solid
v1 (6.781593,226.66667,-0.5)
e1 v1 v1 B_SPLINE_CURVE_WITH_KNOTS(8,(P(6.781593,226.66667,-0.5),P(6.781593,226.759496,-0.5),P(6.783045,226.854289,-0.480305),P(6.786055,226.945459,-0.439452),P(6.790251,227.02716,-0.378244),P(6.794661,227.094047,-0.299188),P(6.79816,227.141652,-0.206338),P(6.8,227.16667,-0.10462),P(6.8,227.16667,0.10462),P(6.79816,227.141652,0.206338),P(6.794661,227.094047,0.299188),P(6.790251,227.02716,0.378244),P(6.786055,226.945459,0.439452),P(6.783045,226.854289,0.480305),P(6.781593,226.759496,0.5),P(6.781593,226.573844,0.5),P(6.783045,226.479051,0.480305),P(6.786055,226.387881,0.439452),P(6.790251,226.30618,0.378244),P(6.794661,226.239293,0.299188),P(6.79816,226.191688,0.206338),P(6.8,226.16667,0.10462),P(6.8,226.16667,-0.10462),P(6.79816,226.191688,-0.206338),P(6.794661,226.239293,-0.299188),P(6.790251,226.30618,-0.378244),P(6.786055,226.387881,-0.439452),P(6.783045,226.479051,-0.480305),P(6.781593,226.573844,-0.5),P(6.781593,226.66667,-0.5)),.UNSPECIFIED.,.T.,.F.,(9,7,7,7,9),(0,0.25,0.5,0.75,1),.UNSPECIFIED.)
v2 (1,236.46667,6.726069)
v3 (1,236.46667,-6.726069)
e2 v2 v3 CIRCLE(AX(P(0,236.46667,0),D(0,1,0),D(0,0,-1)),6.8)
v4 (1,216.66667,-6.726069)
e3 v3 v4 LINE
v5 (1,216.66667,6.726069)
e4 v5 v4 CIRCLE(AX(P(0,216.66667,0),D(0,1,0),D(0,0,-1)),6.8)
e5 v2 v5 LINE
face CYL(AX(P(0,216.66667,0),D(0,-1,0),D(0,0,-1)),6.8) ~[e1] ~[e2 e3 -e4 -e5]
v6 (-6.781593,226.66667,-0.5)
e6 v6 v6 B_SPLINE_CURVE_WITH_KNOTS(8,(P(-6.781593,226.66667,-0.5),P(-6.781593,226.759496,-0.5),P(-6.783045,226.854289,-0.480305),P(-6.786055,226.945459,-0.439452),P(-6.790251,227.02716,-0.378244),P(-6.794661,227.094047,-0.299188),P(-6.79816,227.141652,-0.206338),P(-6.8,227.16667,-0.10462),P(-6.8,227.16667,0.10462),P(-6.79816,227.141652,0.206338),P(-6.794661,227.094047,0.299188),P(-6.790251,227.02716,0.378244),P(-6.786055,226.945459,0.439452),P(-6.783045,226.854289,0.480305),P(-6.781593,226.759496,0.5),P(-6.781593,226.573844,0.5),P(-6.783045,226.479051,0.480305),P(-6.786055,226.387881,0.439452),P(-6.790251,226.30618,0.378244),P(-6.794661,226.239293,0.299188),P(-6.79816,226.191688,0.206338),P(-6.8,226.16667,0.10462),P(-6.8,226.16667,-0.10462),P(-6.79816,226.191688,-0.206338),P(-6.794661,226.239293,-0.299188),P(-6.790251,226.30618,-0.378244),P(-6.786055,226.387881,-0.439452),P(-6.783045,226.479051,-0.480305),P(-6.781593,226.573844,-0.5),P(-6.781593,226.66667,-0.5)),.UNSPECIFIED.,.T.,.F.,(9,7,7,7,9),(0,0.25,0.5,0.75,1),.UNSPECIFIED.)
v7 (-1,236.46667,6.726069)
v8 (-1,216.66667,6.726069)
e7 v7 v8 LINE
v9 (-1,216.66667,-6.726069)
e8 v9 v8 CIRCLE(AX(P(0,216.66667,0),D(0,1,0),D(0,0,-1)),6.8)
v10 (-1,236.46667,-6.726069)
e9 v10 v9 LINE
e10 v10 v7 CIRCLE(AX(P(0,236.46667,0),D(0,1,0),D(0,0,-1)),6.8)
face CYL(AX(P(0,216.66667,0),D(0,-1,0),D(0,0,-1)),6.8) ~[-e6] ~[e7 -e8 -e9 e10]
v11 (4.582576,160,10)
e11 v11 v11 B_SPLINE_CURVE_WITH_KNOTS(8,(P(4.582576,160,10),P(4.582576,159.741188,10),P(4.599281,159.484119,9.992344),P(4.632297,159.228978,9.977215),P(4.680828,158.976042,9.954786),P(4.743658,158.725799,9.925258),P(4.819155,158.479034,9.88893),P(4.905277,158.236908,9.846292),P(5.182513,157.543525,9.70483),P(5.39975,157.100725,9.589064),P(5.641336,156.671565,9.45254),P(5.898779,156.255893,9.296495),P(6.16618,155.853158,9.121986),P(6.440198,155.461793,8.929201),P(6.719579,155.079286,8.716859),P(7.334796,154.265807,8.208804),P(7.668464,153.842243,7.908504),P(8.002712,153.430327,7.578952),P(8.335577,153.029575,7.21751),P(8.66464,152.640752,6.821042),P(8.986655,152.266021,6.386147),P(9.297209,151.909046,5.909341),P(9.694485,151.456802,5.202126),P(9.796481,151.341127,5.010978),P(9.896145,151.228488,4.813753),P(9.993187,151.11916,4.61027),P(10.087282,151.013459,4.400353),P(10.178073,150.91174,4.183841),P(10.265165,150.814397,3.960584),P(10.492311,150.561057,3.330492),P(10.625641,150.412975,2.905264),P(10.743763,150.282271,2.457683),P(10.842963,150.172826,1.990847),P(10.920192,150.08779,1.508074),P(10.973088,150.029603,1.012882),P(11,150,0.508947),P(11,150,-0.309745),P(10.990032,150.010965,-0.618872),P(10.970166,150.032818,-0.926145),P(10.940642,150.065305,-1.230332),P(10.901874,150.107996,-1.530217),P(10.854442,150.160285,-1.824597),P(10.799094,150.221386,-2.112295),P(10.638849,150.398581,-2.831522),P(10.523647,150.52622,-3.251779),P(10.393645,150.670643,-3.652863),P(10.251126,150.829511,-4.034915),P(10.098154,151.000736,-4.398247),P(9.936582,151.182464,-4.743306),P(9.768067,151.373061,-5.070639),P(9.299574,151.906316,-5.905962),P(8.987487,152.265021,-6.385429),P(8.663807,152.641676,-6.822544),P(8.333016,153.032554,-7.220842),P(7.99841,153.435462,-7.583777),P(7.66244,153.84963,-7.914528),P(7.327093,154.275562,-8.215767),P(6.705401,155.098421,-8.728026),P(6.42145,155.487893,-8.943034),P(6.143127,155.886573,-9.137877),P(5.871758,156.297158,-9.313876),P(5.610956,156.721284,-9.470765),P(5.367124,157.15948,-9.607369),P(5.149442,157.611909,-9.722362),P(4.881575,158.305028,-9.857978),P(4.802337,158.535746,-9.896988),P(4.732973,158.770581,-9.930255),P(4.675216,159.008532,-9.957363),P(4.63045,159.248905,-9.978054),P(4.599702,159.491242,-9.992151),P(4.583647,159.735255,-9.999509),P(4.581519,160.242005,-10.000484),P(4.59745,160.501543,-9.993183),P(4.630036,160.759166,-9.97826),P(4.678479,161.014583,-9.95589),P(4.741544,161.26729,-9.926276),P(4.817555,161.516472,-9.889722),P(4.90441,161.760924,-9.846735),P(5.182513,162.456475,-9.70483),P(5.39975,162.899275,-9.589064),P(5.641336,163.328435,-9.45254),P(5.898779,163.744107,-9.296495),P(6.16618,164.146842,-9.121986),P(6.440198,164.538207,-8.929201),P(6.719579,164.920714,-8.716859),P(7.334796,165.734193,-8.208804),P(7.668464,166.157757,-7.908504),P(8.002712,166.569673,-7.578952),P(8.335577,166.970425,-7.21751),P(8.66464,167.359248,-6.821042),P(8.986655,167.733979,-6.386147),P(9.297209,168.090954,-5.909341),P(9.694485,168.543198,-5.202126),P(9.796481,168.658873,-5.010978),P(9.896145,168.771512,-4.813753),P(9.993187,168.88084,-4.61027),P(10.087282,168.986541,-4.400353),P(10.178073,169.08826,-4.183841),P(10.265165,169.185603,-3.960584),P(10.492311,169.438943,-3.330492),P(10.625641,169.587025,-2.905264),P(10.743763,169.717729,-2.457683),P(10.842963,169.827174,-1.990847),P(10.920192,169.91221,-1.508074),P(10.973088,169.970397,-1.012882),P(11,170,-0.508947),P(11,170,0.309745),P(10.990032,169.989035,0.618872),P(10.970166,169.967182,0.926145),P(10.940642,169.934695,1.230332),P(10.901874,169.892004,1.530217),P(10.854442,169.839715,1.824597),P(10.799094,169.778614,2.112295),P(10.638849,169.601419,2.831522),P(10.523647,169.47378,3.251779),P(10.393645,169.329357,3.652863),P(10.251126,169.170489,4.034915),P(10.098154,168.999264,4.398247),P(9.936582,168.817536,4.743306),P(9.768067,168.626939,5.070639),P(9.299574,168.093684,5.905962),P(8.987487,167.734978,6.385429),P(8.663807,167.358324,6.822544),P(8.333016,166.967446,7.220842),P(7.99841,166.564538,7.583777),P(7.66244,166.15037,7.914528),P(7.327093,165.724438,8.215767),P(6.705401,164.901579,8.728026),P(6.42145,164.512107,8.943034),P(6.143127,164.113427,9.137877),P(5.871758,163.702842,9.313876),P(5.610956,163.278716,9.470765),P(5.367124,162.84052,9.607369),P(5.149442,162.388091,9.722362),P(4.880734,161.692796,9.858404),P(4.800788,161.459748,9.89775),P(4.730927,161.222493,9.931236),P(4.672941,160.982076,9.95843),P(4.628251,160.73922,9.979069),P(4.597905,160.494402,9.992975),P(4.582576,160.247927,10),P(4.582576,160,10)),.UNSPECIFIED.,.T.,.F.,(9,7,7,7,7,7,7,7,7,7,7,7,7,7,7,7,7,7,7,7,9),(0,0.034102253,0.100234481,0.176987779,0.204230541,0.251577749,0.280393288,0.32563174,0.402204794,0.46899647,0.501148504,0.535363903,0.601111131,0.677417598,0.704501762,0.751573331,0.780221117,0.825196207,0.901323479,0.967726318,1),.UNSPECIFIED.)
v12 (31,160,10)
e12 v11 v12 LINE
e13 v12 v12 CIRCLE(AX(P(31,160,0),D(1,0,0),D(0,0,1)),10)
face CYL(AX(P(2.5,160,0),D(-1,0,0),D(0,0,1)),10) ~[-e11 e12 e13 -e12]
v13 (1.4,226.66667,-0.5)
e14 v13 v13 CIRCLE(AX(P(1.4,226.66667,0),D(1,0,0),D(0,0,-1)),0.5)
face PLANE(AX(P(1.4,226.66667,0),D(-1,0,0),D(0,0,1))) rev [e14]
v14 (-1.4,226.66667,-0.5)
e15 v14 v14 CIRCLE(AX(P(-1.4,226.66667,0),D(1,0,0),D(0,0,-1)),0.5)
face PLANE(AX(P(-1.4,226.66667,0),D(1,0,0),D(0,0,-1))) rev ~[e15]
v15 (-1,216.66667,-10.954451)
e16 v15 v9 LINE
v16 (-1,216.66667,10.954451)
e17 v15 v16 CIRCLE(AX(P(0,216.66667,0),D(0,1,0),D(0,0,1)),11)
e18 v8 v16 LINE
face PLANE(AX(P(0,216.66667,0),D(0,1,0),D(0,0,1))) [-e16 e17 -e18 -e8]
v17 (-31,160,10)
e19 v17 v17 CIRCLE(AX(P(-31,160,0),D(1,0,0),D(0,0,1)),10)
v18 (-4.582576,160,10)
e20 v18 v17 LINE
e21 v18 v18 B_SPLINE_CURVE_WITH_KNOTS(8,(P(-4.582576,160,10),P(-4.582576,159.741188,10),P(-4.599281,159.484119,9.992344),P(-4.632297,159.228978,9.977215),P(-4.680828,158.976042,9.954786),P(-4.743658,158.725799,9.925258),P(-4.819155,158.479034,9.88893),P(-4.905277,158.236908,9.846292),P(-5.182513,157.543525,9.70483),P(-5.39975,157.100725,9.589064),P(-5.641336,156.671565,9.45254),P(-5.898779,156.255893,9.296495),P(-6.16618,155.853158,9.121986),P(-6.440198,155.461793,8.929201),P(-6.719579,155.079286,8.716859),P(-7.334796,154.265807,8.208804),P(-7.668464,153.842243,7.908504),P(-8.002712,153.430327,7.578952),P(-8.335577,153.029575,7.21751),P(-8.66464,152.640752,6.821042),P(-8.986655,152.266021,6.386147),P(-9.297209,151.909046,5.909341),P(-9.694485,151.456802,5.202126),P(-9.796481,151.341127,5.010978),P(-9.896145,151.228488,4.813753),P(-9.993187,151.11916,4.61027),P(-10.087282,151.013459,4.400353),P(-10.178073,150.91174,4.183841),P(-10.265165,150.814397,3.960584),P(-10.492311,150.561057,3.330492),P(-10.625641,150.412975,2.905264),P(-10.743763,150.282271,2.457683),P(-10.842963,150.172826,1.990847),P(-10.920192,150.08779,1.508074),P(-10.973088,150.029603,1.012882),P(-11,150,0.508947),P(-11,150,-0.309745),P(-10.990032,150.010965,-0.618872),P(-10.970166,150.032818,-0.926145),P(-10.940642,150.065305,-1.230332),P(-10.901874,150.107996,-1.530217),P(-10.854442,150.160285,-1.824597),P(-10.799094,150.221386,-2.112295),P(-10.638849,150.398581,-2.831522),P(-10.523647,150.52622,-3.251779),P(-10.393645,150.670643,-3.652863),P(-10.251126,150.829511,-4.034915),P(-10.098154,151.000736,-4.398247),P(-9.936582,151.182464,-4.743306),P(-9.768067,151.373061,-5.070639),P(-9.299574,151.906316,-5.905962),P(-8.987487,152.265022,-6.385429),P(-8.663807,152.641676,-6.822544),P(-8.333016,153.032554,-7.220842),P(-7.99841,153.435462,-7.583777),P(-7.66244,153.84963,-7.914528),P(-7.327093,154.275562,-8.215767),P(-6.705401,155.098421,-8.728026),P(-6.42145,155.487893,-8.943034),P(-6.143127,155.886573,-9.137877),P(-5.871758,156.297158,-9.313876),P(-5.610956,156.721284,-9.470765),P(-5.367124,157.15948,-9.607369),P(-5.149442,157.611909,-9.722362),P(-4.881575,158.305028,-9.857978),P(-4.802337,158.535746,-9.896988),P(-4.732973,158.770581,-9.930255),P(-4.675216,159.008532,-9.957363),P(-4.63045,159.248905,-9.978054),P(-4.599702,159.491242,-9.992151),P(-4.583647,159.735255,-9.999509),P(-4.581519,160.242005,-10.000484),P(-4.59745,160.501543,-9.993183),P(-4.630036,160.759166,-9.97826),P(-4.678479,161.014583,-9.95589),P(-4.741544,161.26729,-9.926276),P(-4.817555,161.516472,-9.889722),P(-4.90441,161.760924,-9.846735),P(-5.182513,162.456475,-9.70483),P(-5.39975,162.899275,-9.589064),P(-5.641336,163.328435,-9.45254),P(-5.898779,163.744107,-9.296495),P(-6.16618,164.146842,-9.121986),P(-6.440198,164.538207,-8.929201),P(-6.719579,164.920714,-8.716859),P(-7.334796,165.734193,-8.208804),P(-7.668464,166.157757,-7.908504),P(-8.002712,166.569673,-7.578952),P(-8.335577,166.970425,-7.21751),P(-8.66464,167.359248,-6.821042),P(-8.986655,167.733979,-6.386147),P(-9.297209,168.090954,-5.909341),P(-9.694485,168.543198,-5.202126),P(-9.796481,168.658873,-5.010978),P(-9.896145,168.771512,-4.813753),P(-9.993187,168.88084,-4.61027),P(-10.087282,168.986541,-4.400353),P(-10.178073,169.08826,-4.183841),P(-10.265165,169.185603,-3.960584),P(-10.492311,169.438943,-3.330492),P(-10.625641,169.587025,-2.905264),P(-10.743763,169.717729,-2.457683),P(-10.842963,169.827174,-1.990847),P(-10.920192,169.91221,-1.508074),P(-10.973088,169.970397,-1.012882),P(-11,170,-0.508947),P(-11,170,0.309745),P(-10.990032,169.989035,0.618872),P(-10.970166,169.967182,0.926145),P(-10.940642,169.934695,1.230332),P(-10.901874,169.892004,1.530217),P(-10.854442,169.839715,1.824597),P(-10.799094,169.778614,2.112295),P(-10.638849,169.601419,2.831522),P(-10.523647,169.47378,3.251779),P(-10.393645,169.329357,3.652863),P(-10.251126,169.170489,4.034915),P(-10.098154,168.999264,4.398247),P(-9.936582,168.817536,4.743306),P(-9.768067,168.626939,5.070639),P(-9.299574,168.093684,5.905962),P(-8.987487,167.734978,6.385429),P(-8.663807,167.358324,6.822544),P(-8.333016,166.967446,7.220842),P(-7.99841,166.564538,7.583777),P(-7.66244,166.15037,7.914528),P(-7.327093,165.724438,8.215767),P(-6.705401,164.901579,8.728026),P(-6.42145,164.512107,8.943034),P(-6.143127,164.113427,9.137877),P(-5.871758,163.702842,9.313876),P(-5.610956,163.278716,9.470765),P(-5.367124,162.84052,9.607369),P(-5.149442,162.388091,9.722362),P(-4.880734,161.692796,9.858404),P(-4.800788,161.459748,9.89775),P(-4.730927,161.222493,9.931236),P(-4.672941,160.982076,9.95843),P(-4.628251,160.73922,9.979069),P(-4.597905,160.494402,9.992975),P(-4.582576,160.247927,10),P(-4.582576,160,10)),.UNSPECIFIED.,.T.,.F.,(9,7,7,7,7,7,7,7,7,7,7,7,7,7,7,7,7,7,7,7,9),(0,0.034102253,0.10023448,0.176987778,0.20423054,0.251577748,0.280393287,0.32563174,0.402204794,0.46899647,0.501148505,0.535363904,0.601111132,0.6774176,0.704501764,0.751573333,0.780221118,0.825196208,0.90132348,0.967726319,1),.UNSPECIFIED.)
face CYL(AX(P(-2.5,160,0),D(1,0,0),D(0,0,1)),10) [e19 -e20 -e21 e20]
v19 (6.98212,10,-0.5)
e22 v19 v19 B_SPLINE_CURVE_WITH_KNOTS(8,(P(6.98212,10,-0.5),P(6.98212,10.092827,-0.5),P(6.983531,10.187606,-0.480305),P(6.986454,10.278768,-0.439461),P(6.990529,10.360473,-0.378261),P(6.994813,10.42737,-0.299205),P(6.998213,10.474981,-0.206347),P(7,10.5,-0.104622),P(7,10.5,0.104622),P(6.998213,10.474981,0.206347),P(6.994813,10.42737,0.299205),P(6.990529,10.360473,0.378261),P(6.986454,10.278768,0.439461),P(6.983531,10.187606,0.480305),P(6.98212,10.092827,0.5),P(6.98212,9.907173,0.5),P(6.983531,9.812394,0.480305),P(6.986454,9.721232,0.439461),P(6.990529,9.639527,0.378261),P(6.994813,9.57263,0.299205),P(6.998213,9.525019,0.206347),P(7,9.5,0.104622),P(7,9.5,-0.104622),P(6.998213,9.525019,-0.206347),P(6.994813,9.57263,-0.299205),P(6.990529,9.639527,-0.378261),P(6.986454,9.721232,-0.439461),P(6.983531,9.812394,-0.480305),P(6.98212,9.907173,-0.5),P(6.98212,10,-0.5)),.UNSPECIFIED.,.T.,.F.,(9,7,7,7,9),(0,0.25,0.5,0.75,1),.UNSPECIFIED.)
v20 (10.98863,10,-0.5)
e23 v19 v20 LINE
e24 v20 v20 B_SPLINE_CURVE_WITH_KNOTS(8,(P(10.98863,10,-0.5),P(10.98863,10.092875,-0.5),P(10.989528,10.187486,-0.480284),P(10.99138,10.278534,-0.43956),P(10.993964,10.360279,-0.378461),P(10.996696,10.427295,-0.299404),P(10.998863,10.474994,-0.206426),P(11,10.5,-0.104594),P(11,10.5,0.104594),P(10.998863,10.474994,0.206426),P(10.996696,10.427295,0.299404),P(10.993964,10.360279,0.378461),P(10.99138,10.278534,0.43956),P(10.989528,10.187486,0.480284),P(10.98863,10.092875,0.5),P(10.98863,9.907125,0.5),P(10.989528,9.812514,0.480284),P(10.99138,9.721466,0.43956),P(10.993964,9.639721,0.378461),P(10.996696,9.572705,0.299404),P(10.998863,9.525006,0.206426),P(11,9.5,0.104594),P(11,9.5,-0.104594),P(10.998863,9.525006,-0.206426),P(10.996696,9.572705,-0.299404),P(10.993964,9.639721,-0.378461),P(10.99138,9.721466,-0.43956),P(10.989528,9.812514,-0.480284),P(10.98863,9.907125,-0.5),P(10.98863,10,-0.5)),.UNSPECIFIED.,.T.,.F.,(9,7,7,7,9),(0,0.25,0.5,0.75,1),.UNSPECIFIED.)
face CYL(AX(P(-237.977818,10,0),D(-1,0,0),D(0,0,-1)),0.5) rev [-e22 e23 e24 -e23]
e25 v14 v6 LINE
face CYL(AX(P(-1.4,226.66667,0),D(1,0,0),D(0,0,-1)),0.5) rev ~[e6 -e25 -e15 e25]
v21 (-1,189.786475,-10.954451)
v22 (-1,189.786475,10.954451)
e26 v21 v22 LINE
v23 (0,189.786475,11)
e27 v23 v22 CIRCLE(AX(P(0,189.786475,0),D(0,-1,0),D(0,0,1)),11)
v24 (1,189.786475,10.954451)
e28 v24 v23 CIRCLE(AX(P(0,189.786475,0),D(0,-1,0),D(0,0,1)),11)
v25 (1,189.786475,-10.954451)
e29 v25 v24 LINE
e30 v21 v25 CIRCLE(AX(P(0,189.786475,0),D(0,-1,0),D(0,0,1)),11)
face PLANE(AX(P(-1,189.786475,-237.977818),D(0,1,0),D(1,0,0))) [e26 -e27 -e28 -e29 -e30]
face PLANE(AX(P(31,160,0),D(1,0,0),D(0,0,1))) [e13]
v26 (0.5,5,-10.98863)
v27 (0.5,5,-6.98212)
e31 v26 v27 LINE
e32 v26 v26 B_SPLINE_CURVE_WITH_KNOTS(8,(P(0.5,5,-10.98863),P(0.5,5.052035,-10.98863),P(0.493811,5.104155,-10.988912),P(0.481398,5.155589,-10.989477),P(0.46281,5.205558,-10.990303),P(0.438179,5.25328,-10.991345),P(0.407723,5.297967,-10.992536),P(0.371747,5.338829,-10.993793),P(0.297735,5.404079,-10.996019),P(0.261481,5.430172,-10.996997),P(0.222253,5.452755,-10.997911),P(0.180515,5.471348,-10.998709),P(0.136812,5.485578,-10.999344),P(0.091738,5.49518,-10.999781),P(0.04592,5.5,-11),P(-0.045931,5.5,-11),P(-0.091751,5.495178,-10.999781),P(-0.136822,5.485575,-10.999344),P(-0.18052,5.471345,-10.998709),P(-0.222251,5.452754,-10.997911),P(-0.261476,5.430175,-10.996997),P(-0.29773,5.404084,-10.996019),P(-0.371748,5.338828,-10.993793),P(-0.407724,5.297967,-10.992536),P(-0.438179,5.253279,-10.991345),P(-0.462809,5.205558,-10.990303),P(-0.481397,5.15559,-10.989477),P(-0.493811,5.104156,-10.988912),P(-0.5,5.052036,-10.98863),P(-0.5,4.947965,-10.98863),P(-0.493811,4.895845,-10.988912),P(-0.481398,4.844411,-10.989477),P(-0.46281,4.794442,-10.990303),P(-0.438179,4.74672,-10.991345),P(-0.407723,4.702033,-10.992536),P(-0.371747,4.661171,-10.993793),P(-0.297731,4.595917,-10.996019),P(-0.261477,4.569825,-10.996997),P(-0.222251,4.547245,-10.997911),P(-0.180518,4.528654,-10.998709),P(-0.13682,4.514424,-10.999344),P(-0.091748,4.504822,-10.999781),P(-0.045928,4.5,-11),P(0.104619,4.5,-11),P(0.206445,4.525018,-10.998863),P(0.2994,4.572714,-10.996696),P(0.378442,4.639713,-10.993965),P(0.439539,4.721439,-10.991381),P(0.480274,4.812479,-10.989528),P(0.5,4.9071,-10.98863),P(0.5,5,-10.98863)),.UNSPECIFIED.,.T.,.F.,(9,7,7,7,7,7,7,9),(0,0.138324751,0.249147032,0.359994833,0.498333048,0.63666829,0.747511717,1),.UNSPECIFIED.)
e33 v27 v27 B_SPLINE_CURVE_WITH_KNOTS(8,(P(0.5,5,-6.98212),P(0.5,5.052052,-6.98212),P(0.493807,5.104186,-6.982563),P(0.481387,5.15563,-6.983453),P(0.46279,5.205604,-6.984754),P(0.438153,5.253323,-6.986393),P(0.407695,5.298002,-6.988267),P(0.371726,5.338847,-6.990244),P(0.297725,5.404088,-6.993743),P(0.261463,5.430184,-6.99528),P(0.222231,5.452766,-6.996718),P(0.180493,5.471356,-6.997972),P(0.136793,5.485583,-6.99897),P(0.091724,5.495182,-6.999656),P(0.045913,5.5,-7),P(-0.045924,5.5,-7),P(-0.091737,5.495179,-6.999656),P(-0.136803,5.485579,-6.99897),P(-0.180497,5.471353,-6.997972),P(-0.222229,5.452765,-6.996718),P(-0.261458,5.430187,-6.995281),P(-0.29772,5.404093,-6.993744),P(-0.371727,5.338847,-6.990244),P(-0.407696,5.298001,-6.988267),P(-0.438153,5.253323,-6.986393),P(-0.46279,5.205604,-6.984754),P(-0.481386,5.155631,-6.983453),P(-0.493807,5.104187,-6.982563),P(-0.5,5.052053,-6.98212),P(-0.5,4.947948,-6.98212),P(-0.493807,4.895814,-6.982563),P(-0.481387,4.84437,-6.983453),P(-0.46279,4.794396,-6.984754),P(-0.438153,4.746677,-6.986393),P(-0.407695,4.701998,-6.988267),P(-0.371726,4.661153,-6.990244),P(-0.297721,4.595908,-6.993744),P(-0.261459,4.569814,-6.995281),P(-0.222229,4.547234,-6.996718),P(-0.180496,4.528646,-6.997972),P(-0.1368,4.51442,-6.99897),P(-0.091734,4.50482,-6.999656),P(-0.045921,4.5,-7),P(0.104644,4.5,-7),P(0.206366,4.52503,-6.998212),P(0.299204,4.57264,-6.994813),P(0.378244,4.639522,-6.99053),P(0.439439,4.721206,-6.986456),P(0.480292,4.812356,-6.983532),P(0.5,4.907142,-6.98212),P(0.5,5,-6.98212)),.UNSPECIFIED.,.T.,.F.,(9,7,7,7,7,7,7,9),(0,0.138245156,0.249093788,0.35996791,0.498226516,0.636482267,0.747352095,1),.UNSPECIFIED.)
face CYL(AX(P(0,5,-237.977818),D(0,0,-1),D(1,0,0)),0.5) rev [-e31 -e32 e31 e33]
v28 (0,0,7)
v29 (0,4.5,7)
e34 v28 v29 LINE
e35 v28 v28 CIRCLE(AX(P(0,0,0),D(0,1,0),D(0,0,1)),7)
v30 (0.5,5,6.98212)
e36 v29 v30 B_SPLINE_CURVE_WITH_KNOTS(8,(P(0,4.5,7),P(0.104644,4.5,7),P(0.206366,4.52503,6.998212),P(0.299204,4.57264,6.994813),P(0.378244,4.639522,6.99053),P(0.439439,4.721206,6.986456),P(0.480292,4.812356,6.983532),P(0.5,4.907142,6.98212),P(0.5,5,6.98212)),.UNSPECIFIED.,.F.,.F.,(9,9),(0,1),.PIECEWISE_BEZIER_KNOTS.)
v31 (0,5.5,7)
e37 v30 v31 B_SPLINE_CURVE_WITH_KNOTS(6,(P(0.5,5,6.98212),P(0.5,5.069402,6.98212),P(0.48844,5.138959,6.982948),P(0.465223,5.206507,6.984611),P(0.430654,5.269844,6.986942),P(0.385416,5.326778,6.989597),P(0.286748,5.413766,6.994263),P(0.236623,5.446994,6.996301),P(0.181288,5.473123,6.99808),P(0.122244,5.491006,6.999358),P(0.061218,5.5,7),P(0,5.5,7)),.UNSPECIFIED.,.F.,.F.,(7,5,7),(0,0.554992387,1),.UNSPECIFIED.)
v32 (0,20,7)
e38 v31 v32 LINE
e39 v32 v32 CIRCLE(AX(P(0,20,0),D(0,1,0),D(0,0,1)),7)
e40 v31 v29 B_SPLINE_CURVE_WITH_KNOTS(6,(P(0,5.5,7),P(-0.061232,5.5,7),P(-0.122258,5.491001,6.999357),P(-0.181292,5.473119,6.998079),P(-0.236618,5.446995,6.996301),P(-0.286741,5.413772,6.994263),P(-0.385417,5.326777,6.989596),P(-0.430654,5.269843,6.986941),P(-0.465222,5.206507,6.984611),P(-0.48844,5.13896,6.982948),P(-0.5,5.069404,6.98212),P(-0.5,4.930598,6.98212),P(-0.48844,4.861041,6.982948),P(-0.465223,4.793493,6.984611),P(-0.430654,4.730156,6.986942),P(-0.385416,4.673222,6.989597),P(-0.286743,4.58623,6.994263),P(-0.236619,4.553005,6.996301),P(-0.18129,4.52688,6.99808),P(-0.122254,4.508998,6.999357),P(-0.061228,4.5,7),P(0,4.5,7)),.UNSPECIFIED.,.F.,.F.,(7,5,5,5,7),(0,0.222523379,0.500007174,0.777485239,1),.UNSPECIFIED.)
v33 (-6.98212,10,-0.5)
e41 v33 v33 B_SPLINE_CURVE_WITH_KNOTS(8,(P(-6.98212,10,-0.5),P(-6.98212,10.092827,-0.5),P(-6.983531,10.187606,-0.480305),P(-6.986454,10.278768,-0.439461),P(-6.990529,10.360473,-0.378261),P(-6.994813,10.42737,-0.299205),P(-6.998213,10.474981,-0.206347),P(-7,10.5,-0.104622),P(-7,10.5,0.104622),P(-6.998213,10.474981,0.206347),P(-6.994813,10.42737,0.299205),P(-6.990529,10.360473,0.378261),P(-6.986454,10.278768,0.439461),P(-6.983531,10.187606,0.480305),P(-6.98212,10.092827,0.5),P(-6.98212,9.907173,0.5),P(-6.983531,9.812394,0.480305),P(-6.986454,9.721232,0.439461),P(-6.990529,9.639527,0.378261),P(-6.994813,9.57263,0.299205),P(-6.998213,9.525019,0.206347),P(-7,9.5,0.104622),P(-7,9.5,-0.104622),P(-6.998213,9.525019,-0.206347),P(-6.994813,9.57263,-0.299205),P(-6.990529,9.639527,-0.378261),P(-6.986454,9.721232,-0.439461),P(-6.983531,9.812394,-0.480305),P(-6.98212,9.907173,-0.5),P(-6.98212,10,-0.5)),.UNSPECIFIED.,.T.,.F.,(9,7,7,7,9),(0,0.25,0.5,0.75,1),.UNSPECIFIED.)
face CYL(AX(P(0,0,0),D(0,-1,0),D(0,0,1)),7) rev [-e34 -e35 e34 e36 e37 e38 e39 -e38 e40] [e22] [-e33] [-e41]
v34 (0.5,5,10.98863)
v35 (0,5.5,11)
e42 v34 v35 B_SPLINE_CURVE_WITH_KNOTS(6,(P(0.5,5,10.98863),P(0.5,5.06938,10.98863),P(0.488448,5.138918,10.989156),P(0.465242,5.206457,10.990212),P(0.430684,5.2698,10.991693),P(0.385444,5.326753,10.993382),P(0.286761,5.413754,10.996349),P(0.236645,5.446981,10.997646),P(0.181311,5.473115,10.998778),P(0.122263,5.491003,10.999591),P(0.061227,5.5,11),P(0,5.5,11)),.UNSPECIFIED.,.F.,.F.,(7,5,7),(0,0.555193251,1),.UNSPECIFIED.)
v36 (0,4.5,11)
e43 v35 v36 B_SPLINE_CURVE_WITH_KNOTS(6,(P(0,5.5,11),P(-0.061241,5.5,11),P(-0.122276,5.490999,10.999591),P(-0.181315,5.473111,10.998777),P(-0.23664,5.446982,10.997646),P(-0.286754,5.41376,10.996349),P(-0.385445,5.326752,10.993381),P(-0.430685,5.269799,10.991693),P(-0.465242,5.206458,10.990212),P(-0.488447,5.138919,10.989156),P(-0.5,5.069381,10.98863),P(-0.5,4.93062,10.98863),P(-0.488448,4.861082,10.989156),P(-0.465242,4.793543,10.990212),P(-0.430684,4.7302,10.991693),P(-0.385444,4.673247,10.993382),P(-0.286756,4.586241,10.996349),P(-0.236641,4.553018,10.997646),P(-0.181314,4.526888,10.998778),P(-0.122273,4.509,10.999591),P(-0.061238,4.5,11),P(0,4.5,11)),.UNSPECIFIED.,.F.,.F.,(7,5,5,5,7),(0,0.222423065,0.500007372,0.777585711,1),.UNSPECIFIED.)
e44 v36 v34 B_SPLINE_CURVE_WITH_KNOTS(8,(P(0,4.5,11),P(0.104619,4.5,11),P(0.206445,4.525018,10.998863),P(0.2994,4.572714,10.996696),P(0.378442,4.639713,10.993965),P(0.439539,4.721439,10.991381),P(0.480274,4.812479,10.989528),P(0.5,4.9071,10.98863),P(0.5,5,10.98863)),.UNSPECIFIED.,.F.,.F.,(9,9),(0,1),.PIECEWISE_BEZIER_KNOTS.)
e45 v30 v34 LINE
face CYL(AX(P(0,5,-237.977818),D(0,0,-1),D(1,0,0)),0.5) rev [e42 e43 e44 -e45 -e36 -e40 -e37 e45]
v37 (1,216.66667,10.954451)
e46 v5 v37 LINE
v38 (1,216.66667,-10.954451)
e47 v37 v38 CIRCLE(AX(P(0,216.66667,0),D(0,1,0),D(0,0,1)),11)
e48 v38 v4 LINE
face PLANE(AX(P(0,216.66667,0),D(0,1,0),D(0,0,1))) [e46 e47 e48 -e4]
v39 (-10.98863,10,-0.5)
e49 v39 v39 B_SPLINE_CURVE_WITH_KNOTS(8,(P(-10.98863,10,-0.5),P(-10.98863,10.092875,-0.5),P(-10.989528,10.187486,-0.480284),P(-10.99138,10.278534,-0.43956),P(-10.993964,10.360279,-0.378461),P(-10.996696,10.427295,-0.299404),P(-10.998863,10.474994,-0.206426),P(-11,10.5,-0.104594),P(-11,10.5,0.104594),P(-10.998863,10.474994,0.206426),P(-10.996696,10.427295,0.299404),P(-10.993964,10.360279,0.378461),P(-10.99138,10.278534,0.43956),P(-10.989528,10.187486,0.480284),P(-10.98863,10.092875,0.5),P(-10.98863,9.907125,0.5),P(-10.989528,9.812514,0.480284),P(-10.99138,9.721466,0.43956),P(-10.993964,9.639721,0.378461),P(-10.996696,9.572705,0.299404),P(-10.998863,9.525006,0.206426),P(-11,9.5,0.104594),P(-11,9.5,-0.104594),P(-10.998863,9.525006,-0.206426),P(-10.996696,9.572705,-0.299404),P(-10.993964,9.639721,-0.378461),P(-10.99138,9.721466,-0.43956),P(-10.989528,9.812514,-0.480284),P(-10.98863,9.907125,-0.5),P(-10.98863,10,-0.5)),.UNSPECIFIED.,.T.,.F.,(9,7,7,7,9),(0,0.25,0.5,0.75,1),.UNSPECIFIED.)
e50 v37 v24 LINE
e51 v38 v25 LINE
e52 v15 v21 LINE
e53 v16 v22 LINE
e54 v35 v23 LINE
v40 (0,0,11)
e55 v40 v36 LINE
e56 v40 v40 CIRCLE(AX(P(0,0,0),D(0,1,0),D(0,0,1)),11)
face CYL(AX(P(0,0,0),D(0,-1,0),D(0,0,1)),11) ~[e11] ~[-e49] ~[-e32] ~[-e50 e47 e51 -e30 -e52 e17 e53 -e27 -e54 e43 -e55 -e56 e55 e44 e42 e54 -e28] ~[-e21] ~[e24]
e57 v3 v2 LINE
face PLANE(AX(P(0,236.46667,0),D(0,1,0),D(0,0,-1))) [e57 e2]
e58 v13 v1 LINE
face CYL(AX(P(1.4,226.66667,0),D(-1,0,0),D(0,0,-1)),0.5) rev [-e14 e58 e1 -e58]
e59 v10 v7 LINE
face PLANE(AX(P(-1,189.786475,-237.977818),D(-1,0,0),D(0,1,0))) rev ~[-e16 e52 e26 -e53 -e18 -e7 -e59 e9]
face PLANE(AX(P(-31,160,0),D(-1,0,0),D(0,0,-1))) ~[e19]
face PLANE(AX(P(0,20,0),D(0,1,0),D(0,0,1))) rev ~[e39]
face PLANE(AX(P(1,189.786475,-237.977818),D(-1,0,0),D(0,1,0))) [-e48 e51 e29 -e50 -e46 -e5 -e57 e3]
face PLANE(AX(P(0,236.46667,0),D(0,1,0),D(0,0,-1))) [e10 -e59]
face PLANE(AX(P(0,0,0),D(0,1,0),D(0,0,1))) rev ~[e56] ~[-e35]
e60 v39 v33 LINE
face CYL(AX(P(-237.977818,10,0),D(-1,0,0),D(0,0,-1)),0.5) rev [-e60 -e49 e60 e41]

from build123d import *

# Parameters (mm, degrees)
SKETCH1_R               = 11
BOSS_EXTRUDE1_DEPTH     = 216.66667
BOSS_EXTRUDE2_START     = 216.66667
SKETCH2_R               = 6.8
BOSS_EXTRUDE2_DEPTH     = 19.8
CUT_EXTRUDE2_START      = -1.4
SKETCH4_R               = 0.5
CUT_EXTRUDE2_DEPTH      = 9
SKETCH6_R               = 7
CUT_EXTRUDE3_DEPTH      = 20
CUT_EXTRUDE4_DEPTH      = 237.977817671
CUT_EXTRUDE4_DEPTH_BACK = 237.977817671
SKETCH7_R               = 0.5
CUT_EXTRUDE5_DEPTH      = 237.97781768
CUT_EXTRUDE5_DEPTH_BACK = 237.97781768
SKETCH10_R              = 0.5
CUT_EXTRUDE6_DEPTH      = 237.97781768
CUT_EXTRUDE6_DEPTH_BACK = 237.97781768
SKETCH11_W              = 2
SKETCH11_H              = 46.680194511
BOSS_EXTRUDE3_START     = 2.5
SKETCH14_R              = 10
BOSS_EXTRUDE3_DEPTH     = 28.5


with BuildPart() as part:
    # Sketch1 → Boss-Extrude1 (new body)
    with BuildSketch(Plane(origin=(0, 0, 0), x_dir=(1, 0, 0), z_dir=(0, 1, 0))):
        with Locations(Location((0, 0, 0), (0, 0, 270))):
            Circle(SKETCH1_R)
    extrude(amount=BOSS_EXTRUDE1_DEPTH)

    # Sketch2 → Boss-Extrude2 (add)
    with BuildSketch(Plane(origin=(0, 0, 0), x_dir=(1, 0, 0), z_dir=(0, 1, 0)).offset(BOSS_EXTRUDE2_START)):
        with Locations(Location((0, 0, 0), (0, 0, 90))):
            Circle(SKETCH2_R)
    extrude(amount=BOSS_EXTRUDE2_DEPTH)

    # Sketch4 → Cut-Extrude2 (cut)
    with BuildSketch(Plane(origin=(0, 0, 0), x_dir=(0, 0, -1), z_dir=(1, 0, 0)).offset(CUT_EXTRUDE2_START)):
        with Locations((0, 226.66667)):
            Circle(SKETCH4_R)
    cut_extrude2 = extrude(amount=-CUT_EXTRUDE2_DEPTH, mode=Mode.SUBTRACT)

    # Mirror2: Cut-Extrude2 across plane
    add(cut_extrude2.mirror(Plane(origin=(0, 0, 0), x_dir=(0, 0, 1), z_dir=(1, 0, 0))), mode=Mode.SUBTRACT)

    # Sketch6 → Cut-Extrude3 (cut)
    with BuildSketch(Plane(origin=(0, 0, 0), x_dir=(1, 0, 0), z_dir=(0, 1, 0))):
        with Locations(Location((0, 0, 0), (0, 0, 270))):
            Circle(SKETCH6_R)
    extrude(amount=CUT_EXTRUDE3_DEPTH, mode=Mode.SUBTRACT)

    # Sketch7 → Cut-Extrude4 (cut, two sides: drawn at the far end of the back side and taken through both)
    with BuildSketch(Plane(origin=(0, 0, 0), x_dir=(0, 0, -1), z_dir=(1, 0, 0)).offset(-CUT_EXTRUDE4_DEPTH_BACK)):
        with Locations((0, 10)):
            Circle(SKETCH7_R)
    extrude(amount=CUT_EXTRUDE4_DEPTH + CUT_EXTRUDE4_DEPTH_BACK, mode=Mode.SUBTRACT)

    # Sketch10 → Cut-Extrude5 (cut, two sides: drawn at the far end of the back side and taken through both)
    with BuildSketch(Plane.XY.offset(-CUT_EXTRUDE5_DEPTH_BACK)):
        with Locations((0, 5)):
            Circle(SKETCH10_R)
    extrude(amount=CUT_EXTRUDE5_DEPTH + CUT_EXTRUDE5_DEPTH_BACK, mode=Mode.SUBTRACT)

    # Sketch11 → Cut-Extrude6 (cut, two sides: drawn at the far end of the back side and taken through both)
    with BuildSketch(Plane.XY.offset(-CUT_EXTRUDE6_DEPTH_BACK)):
        with Locations((0, 213.126572745)):
            Rectangle(SKETCH11_W, SKETCH11_H)
    extrude(amount=CUT_EXTRUDE6_DEPTH + CUT_EXTRUDE6_DEPTH_BACK, mode=Mode.SUBTRACT)

    # Sketch14 → Boss-Extrude3 (add)
    with BuildSketch(Plane(origin=(0, 0, 0), x_dir=(0, 0, -1), z_dir=(1, 0, 0)).offset(BOSS_EXTRUDE3_START)):
        with Locations(Location((0, 160, 0), (0, 0, 180))):
            Circle(SKETCH14_R)
    boss_extrude3 = extrude(amount=BOSS_EXTRUDE3_DEPTH)

    # Mirror3: Boss-Extrude3 across plane
    add(boss_extrude3.mirror(Plane(origin=(0, 0, 0), x_dir=(0, 0, 1), z_dir=(1, 0, 0))))


solid = part.part
